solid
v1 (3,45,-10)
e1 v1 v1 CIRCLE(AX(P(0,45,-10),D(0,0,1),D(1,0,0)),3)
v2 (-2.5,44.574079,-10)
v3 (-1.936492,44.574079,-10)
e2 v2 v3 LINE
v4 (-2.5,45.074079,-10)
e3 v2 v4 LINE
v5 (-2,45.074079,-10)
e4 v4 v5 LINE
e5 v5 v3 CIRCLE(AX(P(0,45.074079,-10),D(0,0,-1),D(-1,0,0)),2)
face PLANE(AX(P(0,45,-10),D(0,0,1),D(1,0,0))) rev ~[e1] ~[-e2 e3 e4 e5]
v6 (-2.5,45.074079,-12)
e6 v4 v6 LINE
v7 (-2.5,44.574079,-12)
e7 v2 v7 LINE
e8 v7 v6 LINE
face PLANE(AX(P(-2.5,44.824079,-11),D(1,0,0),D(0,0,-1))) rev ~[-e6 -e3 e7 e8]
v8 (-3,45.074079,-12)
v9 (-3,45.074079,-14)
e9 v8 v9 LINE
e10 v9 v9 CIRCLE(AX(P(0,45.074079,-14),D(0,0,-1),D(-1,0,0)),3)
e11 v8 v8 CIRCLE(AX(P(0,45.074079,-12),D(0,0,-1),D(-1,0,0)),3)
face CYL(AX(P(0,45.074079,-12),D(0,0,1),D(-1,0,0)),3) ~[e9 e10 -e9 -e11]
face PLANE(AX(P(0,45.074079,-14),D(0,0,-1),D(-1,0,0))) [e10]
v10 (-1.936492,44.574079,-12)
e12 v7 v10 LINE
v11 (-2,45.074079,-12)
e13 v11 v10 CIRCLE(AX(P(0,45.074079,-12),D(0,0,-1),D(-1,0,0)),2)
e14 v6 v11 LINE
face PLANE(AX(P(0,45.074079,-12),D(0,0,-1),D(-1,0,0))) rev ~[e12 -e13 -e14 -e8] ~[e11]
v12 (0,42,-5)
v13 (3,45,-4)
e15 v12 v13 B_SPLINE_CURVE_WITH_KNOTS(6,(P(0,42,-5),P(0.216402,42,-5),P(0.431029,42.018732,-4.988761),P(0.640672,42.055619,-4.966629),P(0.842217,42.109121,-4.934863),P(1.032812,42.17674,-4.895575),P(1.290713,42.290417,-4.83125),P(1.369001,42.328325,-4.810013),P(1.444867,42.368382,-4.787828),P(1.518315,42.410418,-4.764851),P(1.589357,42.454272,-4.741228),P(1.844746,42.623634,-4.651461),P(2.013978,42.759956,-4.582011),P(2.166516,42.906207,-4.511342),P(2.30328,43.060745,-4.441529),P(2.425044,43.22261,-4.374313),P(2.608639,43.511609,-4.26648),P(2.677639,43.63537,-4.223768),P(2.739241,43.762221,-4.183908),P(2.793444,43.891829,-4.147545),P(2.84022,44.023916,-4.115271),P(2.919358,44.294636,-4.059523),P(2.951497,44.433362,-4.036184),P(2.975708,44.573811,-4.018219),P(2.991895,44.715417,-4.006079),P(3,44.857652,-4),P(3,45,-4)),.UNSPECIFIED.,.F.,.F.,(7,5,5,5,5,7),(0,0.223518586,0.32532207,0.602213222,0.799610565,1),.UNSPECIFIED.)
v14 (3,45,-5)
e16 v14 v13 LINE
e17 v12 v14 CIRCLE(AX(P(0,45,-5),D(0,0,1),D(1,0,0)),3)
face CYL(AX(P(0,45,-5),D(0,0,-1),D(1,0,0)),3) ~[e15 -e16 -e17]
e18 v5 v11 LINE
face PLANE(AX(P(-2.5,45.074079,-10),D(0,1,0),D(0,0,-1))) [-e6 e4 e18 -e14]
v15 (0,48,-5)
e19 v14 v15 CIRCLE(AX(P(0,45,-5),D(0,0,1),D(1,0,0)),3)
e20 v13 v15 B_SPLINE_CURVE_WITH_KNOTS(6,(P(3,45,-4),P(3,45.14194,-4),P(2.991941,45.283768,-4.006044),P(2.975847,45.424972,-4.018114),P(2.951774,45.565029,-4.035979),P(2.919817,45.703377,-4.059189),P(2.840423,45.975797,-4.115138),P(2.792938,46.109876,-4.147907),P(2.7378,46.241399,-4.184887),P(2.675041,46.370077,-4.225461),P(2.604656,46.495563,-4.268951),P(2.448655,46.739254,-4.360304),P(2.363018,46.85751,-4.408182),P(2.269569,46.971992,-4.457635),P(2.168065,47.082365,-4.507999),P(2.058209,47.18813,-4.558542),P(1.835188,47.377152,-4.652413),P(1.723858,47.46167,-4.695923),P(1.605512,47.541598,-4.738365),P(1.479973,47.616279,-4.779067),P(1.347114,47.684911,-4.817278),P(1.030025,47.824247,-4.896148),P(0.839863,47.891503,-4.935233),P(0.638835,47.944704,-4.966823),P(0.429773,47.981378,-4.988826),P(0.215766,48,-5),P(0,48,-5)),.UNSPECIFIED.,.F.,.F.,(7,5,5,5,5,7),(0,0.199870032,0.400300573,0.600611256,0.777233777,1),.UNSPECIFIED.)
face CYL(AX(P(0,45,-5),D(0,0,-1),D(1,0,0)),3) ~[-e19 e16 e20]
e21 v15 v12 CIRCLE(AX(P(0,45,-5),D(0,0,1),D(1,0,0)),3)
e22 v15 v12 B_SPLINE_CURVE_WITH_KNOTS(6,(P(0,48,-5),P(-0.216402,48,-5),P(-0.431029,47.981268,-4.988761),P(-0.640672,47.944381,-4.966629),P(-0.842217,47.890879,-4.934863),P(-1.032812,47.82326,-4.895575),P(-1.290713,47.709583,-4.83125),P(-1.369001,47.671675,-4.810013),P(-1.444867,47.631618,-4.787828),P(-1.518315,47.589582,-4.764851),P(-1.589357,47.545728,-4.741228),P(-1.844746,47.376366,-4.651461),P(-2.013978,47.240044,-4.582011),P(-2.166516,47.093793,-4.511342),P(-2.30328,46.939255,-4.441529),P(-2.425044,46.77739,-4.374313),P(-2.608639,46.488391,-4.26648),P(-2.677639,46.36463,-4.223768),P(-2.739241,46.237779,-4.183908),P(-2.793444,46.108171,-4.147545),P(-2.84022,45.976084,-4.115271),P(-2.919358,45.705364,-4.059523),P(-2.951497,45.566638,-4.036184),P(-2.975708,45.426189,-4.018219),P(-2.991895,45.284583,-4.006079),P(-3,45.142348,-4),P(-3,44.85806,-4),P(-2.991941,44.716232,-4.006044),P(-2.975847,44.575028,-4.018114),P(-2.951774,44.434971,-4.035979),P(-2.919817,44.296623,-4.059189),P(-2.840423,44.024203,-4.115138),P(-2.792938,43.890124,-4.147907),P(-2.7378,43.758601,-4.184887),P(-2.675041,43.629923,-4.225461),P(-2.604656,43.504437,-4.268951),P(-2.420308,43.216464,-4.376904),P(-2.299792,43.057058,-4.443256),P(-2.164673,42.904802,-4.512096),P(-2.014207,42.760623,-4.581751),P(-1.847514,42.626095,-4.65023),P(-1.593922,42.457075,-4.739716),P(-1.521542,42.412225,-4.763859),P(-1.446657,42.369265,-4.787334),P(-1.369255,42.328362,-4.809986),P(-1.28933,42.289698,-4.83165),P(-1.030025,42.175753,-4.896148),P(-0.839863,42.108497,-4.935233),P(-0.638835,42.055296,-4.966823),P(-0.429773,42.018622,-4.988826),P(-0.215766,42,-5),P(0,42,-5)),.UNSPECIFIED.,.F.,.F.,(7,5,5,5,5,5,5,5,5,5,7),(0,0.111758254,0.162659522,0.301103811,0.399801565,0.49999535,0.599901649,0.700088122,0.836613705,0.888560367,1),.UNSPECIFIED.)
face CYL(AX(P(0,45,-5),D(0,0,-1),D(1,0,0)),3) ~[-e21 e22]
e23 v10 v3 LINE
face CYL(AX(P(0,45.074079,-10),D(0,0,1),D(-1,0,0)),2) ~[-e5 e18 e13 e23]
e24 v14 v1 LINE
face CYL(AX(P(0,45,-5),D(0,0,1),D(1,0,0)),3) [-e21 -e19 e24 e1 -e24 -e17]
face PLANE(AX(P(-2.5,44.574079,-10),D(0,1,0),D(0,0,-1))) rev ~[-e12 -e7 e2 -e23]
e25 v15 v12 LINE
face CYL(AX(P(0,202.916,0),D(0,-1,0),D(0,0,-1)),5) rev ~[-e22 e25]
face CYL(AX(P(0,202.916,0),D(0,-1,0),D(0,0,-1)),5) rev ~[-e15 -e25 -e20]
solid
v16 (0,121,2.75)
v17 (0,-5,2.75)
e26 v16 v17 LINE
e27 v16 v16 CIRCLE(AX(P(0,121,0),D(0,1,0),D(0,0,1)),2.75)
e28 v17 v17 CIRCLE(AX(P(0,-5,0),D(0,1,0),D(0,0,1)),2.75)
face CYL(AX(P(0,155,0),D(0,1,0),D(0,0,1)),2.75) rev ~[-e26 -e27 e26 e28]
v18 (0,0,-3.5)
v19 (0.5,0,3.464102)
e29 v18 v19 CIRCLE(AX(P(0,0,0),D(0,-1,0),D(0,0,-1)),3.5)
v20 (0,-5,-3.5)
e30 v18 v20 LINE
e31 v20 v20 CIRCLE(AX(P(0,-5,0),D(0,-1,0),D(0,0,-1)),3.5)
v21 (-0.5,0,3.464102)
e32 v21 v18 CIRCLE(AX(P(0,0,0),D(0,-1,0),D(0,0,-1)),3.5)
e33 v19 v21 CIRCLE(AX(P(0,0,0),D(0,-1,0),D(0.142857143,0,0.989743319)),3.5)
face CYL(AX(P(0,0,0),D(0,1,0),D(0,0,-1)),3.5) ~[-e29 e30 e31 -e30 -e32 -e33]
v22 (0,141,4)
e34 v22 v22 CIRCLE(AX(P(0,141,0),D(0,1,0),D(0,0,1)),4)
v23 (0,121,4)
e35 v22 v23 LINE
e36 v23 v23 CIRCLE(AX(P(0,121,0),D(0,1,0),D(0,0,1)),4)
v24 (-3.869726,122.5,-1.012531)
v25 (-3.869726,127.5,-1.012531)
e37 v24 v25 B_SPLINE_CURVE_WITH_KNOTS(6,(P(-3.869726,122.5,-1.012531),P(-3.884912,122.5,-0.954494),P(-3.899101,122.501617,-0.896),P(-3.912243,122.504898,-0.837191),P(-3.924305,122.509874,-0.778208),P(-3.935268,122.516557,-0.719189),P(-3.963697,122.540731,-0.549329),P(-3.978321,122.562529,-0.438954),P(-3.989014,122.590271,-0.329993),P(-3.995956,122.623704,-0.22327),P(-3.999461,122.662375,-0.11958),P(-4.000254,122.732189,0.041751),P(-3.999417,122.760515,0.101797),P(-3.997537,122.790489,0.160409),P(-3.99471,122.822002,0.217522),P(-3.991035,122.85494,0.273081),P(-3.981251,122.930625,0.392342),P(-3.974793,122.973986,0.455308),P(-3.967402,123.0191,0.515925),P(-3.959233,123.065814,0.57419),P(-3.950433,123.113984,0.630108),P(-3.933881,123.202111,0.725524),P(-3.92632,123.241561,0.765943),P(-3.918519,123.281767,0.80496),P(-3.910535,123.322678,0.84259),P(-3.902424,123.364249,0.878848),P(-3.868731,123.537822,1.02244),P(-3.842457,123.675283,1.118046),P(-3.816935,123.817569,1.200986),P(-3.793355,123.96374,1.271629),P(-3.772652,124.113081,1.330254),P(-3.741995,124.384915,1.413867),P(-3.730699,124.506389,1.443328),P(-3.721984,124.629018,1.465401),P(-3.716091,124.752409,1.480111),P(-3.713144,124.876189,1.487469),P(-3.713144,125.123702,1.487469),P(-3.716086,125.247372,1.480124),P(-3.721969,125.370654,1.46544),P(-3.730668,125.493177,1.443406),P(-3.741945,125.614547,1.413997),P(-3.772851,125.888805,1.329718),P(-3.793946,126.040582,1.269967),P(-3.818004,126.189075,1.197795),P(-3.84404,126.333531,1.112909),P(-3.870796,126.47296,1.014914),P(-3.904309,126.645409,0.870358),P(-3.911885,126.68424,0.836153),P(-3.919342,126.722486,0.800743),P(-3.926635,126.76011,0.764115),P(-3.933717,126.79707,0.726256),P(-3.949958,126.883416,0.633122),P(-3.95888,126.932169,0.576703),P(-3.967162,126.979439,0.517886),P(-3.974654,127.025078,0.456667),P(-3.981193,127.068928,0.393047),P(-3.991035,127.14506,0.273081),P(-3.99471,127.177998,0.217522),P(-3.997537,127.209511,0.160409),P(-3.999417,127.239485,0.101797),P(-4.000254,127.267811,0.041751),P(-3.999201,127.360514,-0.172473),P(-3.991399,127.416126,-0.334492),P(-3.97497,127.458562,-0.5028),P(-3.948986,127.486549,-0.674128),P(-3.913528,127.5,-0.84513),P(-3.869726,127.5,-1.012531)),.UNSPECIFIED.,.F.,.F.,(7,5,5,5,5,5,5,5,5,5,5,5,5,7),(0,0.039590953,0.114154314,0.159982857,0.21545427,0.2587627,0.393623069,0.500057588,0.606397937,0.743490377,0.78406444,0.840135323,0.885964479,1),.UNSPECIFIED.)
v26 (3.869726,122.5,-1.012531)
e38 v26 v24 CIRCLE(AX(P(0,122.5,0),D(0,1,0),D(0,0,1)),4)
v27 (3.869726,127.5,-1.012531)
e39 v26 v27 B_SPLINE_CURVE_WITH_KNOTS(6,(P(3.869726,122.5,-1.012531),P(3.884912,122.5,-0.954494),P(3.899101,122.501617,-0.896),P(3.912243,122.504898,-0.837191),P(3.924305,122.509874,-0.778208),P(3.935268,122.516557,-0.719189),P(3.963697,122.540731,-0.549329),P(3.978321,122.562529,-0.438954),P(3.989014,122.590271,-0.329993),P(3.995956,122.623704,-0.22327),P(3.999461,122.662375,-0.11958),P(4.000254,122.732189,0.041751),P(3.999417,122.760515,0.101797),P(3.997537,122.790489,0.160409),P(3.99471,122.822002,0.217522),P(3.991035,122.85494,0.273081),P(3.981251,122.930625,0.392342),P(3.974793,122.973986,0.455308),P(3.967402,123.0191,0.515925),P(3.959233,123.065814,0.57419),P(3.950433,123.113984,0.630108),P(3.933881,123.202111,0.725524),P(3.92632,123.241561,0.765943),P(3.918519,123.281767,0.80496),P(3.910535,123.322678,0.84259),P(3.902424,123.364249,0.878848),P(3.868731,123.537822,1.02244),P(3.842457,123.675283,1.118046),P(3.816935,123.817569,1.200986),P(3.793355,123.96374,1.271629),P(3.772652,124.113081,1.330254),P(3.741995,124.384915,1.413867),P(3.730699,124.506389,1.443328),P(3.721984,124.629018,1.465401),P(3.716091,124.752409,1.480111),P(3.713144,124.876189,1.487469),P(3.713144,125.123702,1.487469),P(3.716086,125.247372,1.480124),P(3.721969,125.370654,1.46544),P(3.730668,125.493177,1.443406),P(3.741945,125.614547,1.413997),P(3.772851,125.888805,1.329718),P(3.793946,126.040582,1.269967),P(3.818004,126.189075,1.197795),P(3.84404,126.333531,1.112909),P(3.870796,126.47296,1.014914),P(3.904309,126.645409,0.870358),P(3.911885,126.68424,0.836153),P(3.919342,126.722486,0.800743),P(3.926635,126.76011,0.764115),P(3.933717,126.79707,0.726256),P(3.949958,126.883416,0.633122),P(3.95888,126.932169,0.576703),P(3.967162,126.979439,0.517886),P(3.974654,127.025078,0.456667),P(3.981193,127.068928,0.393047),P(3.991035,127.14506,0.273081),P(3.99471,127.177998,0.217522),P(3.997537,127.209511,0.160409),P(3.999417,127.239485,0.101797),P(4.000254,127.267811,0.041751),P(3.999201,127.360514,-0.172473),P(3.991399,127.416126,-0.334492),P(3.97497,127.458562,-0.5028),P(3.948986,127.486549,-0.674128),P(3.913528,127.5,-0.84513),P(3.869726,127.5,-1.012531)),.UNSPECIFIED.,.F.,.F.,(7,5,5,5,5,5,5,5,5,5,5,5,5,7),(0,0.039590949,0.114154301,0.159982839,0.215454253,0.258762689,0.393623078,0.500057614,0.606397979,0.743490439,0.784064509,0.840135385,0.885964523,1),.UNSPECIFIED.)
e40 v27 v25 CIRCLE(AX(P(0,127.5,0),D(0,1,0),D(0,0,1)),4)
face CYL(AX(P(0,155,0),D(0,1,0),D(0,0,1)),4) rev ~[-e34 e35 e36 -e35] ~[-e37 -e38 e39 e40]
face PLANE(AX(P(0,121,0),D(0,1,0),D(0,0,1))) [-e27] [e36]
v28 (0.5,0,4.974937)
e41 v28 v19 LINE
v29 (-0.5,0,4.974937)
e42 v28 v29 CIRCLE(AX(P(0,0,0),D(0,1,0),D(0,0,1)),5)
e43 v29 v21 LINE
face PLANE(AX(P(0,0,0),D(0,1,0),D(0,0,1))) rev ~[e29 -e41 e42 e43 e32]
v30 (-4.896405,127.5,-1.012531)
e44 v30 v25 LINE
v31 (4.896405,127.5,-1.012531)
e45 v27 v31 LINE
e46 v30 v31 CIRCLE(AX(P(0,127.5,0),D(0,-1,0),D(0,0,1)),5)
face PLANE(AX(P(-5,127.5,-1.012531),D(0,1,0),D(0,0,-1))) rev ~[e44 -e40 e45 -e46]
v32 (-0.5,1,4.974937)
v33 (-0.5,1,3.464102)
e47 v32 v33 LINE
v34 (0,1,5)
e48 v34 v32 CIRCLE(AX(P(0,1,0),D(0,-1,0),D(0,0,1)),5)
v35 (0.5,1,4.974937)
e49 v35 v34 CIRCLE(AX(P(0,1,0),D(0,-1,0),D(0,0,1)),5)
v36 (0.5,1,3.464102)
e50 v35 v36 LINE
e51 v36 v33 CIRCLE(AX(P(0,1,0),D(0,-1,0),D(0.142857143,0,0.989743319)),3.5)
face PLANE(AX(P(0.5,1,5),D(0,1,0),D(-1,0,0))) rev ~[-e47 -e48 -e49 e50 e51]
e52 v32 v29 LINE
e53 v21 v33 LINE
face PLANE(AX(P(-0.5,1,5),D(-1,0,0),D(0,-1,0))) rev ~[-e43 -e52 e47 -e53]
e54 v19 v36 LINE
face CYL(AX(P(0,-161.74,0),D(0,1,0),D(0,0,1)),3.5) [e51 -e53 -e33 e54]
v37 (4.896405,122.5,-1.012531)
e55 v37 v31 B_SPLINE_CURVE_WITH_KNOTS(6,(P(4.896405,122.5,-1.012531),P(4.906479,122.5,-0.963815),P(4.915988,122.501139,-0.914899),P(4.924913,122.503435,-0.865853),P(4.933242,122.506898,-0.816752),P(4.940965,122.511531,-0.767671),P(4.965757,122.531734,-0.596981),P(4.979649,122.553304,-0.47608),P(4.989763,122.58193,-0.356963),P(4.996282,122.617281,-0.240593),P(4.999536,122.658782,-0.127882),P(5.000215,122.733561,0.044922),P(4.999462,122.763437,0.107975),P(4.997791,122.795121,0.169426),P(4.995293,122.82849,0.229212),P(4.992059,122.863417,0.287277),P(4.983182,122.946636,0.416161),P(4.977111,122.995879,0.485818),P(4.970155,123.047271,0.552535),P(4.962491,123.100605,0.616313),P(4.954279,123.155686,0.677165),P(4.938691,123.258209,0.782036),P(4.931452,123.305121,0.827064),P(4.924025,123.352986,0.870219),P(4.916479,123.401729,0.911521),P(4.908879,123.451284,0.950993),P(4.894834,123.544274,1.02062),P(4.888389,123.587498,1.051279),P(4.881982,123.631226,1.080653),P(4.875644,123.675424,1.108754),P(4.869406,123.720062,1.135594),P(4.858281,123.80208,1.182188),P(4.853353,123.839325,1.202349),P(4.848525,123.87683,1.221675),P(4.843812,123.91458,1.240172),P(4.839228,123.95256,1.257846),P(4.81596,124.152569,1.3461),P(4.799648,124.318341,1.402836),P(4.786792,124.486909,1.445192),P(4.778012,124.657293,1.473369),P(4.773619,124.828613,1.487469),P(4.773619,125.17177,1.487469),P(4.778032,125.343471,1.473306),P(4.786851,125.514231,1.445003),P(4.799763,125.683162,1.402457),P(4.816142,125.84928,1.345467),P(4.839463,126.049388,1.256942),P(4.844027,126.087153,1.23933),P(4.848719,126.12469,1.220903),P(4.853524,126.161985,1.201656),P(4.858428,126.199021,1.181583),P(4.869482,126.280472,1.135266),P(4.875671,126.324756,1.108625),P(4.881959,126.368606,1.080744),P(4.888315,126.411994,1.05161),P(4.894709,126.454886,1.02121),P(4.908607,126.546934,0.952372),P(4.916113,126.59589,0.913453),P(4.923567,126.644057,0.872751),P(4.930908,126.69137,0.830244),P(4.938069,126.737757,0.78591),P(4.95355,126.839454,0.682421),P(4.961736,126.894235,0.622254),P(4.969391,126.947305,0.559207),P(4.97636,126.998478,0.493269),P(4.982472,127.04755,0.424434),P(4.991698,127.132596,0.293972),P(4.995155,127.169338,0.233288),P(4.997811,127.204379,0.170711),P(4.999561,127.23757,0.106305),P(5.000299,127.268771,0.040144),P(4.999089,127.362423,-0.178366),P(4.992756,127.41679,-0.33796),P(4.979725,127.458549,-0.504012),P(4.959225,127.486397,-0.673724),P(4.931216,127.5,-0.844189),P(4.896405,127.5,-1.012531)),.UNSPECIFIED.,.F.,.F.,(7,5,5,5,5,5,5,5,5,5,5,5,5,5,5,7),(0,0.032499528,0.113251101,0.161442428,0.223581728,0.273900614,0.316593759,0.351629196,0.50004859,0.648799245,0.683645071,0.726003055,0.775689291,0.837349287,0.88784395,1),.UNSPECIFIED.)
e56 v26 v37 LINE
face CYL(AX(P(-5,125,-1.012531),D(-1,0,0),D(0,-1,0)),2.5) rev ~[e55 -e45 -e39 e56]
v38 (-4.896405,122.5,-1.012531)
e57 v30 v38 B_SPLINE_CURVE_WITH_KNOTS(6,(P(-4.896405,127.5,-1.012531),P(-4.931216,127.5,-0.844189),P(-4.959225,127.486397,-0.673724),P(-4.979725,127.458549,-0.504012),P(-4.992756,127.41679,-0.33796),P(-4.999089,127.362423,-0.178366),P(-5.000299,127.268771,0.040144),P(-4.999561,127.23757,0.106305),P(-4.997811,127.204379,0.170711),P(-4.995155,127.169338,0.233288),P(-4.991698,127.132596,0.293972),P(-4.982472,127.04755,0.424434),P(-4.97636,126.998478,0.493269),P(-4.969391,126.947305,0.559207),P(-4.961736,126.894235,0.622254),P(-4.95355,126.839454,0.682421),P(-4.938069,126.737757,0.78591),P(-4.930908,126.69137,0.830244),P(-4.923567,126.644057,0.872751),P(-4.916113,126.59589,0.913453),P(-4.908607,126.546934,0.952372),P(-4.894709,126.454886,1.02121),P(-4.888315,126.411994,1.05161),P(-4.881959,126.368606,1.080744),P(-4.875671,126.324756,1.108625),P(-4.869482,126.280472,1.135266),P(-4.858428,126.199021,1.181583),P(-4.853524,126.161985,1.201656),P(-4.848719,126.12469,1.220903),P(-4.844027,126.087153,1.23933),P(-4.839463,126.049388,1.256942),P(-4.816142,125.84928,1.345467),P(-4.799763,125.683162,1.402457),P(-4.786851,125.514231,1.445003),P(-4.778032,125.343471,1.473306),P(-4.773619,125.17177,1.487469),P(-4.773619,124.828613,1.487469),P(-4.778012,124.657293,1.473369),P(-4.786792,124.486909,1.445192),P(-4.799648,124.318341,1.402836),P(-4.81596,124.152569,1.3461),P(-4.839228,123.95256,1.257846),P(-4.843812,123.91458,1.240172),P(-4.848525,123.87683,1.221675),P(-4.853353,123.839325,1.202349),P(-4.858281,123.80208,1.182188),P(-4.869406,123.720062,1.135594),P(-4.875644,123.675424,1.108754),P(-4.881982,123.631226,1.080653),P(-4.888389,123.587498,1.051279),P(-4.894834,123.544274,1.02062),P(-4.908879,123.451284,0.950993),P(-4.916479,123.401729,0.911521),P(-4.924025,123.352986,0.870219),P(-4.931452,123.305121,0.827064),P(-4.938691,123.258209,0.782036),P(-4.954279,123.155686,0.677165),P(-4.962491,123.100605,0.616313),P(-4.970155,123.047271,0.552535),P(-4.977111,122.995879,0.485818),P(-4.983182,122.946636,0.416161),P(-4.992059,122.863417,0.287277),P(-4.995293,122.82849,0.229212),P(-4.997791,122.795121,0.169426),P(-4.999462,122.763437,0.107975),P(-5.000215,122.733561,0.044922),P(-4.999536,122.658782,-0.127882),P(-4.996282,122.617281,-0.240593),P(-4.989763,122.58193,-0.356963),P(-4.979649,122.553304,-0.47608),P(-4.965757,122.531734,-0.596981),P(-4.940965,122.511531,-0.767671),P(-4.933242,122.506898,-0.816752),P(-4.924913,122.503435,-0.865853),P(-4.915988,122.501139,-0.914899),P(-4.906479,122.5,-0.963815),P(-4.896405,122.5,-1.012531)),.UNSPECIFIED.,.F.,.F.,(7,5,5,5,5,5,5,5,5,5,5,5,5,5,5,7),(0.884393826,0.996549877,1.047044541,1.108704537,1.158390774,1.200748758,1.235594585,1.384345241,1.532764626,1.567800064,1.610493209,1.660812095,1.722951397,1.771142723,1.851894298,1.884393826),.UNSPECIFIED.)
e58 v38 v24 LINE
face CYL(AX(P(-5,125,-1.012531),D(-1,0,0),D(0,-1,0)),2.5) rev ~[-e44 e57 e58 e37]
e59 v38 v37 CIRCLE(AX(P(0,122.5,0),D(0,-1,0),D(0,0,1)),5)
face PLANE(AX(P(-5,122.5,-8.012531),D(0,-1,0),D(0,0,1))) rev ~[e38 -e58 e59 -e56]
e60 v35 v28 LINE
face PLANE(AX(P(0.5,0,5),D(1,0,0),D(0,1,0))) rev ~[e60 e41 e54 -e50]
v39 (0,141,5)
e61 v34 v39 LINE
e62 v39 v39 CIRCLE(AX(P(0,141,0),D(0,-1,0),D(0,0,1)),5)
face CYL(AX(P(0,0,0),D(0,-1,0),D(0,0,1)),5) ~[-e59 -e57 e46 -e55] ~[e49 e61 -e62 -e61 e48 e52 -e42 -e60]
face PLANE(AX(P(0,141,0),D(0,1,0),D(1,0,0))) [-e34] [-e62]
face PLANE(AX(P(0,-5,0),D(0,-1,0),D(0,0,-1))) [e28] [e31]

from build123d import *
from build123d.topology import SkipClean

# Parameters (mm, degrees)
SKETCH1_R                            = 5
BOSS_EXTRUDE1_DEPTH                  = 150
SKETCH4_R                            = 3
BOSS_EXTRUDE2_DEPTH                  = 5
BOSS_EXTRUDE2_DIRECTION_2_REACH      = 152.416
BOSS_EXTRUDE2_DIRECTION_2_END_RADIUS = 5
SKETCH5_R                            = 2
BOSS_EXTRUDE3_DEPTH                  = 2
SKETCH6_R                            = 3
BOSS_EXTRUDE4_DEPTH                  = 2
SKETCH7_R                            = 3.5
BOSS_EXTRUDE5_DEPTH                  = 5
BOSS_EXTRUDE6_START                  = 5
SKETCH8_R                            = 3.5
BOSS_EXTRUDE6_DEPTH                  = 5
SKETCH9_R                            = 2.75
CUT_EXTRUDE1_DEPTH                   = 168
CUT_EXTRUDE4_REACH                   = 158.24
CUT_EXTRUDE4_END_RADIUS              = 3.5
BOSS_EXTRUDE7_START                  = 1
BOSS_EXTRUDE7_DEPTH                  = 1
CUT_EXTRUDE5_DEPTH                   = 18
SKETCH19_R                           = 4
CUT_EXTRUDE6_DEPTH                   = 34
SKETCH20_W                           = 24.40949837
SKETCH20_H                           = 28.25498801
CUT_EXTRUDE7_DEPTH                   = 10
BOSS_EXTRUDE8_REACH                  = 143.892
BOSS_EXTRUDE8_END_RADIUS             = 2
SKETCH22_W                           = 2
SKETCH22_H                           = 0.5


with BuildPart() as part:
    # Sketch1 → Boss-Extrude1 (new body)
    with BuildSketch(Plane(origin=(0, 0, 0), x_dir=(1, 0, 0), z_dir=(0, 1, 0))):
        with Locations(Location((0, 0, 0), (0, 0, 270))):
            Circle(SKETCH1_R)
    extrude(amount=BOSS_EXTRUDE1_DEPTH)

    # Sketch7 → Boss-Extrude5 (add)
    with BuildSketch(Plane.XZ):
        with Locations(Location((0, 0, 0), (0, 0, 270))):
            Circle(SKETCH7_R)
    extrude(amount=BOSS_EXTRUDE5_DEPTH)

    # Sketch8 → Boss-Extrude6 (add)
    with BuildSketch(Plane(origin=(0, 150, 0), x_dir=(1, 0, 0), z_dir=(0, 1, 0)).offset(BOSS_EXTRUDE6_START)):
        with Locations(Location((0, 0, 0), (0, 0, 90))):
            Circle(SKETCH8_R)
    extrude(amount=-BOSS_EXTRUDE6_DEPTH)

    # Sketch9 → Cut-Extrude1 (cut)
    with BuildSketch(Plane(origin=(0, 155, 0), x_dir=(1, 0, 0), z_dir=(0, 1, 0))):
        with Locations(Location((0, 0, 0), (0, 0, 270))):
            Circle(SKETCH9_R)
    extrude(amount=-CUT_EXTRUDE1_DEPTH, mode=Mode.SUBTRACT)

    # Cut-Extrude4: up to this cylinder (the profile starts outside it)
    cut_extrude4_end = Plane(origin=(0, 0.5, 0), z_dir=(0, 1, 0)) * Cylinder(CUT_EXTRUDE4_END_RADIUS, 324.48, mode=Mode.PRIVATE)
    # Sketch14 → Cut-Extrude4 (cut, up to the surface)
    with BuildSketch(Plane.XY.offset(5), mode=Mode.PRIVATE) as cut_extrude4_sk1:
        Polygon((0, 0), (0.5, 0), (0.5, 1), (-0.5, 1), (-0.5, 0), align=None)
    cut_extrude4_tool1 = extrude(cut_extrude4_sk1.sketch, amount=-CUT_EXTRUDE4_REACH, mode=Mode.PRIVATE) - cut_extrude4_end
    add(cut_extrude4_tool1.solids().sort_by_distance((0, 0.5, 5))[0], mode=Mode.SUBTRACT)

    # Sketch16 → Boss-Extrude7 (add)
    with BuildSketch(Plane(origin=(0, 150, 0), x_dir=(1, 0, 0), z_dir=(0, 1, 0)).offset(BOSS_EXTRUDE7_START)):
        with BuildLine():
            Line((0.5, -3.5), (0.5, -4.974937186))
            ThreePointArc((0.5, -4.974937186), (0, -5), (-0.5, -4.974937186))
            Line((-0.5, -4.974937186), (-0.5, -3.5))
            Line((-0.5, -3.5), (-0.5, -3.464101615))
            ThreePointArc((-0.5, -3.464101615), (0, -3.5), (0.5, -3.464101615))
            Line((0.5, -3.464101615), (0.5, -3.5))
        make_face()
    extrude(amount=-BOSS_EXTRUDE7_DEPTH)

    # Sketch18 → Cut-Extrude5 (cut)
    with BuildSketch(Plane(origin=(-5, 0, 0), x_dir=(0, 0, -1), z_dir=(1, 0, 0))):
        with BuildLine():
            Line((1.012531407, 127.5), (8.012531407, 127.5))
            Line((8.012531407, 127.5), (8.012531407, 122.5))
            Line((8.012531407, 122.5), (1.012531407, 122.5))
            ThreePointArc((1.012531407, 122.5), (-1.487468593, 125), (1.012531407, 127.5))
        make_face()
    extrude(amount=CUT_EXTRUDE5_DEPTH, mode=Mode.SUBTRACT)

    # Sketch19 → Cut-Extrude6 (cut)
    with BuildSketch(Plane(origin=(0, 155, 0), x_dir=(1, 0, 0), z_dir=(0, 1, 0))):
        with Locations(Location((0, 0, 0), (0, 0, 270))):
            Circle(SKETCH19_R)
    extrude(amount=-CUT_EXTRUDE6_DEPTH, mode=Mode.SUBTRACT)

    # Sketch20 → Cut-Extrude7 (cut)
    with BuildSketch(Plane(origin=(0, 151, 0), x_dir=(1, 0, 0), z_dir=(0, 1, 0))):
        Rectangle(SKETCH20_W, SKETCH20_H)
    extrude(amount=-CUT_EXTRUDE7_DEPTH, mode=Mode.SUBTRACT)


with BuildPart() as body_2:
    # Sketch4 → Boss-Extrude2 (new body)
    with BuildSketch(Plane.XY.offset(-5)):
        with Locations((0, 45)):
            Circle(SKETCH4_R)
    extrude(amount=-BOSS_EXTRUDE2_DEPTH)

    # Boss-Extrude2 direction 2: up to this cylinder (the profile starts outside it)
    with SkipClean():  # the faces are left unmerged after this step: merging them gives an invalid solid
        boss_extrude2_direction_2_end = Plane(origin=(0, 45, 0), z_dir=(0, -1, 0)) * Cylinder(BOSS_EXTRUDE2_DIRECTION_2_END_RADIUS, 315.832, mode=Mode.PRIVATE)
        # Sketch4 → Boss-Extrude2 direction 2 (add, up to the surface)
        with BuildSketch(Plane.XY.offset(-5), mode=Mode.PRIVATE) as boss_extrude2_direction_2_sk1:
            with Locations((0, 45)):
                Circle(SKETCH4_R)
        boss_extrude2_direction_2_tool1 = extrude(boss_extrude2_direction_2_sk1.sketch, amount=BOSS_EXTRUDE2_DIRECTION_2_REACH, mode=Mode.PRIVATE) - boss_extrude2_direction_2_end
        add(boss_extrude2_direction_2_tool1.solids().sort_by_distance((0, 45, -5))[0])
        add(boss_extrude2_direction_2_tool1.solids().sort_by_distance((0, 45, -5))[1])

    # Sketch5 → Boss-Extrude3 (add)
    with SkipClean():  # the faces are left unmerged after this step: merging them gives an invalid solid
        with BuildSketch(Plane(origin=(0, 0, -10), x_dir=(-1, 0, 0), z_dir=(0, 0, -1))):
            with Locations((0, 45.074078642)):
                Circle(SKETCH5_R)
        extrude(amount=BOSS_EXTRUDE3_DEPTH)

    # Sketch6 → Boss-Extrude4 (add)
    with SkipClean():  # the faces are left unmerged after this step: merging them gives an invalid solid
        with BuildSketch(Plane(origin=(0, 0, -12), x_dir=(-1, 0, 0), z_dir=(0, 0, -1))):
            with Locations((0, 45.074078642)):
                Circle(SKETCH6_R)
        extrude(amount=BOSS_EXTRUDE4_DEPTH)

    # Boss-Extrude8: up to this cylinder (the profile starts outside it)
    with SkipClean():  # the faces are left unmerged after this step: merging them gives an invalid solid
        boss_extrude8_end = Plane(origin=(0, 45.074078642, -11), z_dir=(0, 0, 1)) * Cylinder(BOSS_EXTRUDE8_END_RADIUS, 292.784, mode=Mode.PRIVATE)
        # Sketch22 → Boss-Extrude8 (add, up to the surface)
        with BuildSketch(Plane(origin=(-2.5, 0, 0), x_dir=(0, 0, -1), z_dir=(1, 0, 0)), mode=Mode.PRIVATE) as boss_extrude8_sk1:
            with Locations((11, 44.824078642)):
                Rectangle(SKETCH22_W, SKETCH22_H)
        boss_extrude8_tool1 = extrude(boss_extrude8_sk1.sketch, amount=BOSS_EXTRUDE8_REACH, mode=Mode.PRIVATE) - boss_extrude8_end
        add(boss_extrude8_tool1.solids().sort_by_distance((-2.5, 44.824079, -11))[0])


solid = Compound([part.part, body_2.part])
